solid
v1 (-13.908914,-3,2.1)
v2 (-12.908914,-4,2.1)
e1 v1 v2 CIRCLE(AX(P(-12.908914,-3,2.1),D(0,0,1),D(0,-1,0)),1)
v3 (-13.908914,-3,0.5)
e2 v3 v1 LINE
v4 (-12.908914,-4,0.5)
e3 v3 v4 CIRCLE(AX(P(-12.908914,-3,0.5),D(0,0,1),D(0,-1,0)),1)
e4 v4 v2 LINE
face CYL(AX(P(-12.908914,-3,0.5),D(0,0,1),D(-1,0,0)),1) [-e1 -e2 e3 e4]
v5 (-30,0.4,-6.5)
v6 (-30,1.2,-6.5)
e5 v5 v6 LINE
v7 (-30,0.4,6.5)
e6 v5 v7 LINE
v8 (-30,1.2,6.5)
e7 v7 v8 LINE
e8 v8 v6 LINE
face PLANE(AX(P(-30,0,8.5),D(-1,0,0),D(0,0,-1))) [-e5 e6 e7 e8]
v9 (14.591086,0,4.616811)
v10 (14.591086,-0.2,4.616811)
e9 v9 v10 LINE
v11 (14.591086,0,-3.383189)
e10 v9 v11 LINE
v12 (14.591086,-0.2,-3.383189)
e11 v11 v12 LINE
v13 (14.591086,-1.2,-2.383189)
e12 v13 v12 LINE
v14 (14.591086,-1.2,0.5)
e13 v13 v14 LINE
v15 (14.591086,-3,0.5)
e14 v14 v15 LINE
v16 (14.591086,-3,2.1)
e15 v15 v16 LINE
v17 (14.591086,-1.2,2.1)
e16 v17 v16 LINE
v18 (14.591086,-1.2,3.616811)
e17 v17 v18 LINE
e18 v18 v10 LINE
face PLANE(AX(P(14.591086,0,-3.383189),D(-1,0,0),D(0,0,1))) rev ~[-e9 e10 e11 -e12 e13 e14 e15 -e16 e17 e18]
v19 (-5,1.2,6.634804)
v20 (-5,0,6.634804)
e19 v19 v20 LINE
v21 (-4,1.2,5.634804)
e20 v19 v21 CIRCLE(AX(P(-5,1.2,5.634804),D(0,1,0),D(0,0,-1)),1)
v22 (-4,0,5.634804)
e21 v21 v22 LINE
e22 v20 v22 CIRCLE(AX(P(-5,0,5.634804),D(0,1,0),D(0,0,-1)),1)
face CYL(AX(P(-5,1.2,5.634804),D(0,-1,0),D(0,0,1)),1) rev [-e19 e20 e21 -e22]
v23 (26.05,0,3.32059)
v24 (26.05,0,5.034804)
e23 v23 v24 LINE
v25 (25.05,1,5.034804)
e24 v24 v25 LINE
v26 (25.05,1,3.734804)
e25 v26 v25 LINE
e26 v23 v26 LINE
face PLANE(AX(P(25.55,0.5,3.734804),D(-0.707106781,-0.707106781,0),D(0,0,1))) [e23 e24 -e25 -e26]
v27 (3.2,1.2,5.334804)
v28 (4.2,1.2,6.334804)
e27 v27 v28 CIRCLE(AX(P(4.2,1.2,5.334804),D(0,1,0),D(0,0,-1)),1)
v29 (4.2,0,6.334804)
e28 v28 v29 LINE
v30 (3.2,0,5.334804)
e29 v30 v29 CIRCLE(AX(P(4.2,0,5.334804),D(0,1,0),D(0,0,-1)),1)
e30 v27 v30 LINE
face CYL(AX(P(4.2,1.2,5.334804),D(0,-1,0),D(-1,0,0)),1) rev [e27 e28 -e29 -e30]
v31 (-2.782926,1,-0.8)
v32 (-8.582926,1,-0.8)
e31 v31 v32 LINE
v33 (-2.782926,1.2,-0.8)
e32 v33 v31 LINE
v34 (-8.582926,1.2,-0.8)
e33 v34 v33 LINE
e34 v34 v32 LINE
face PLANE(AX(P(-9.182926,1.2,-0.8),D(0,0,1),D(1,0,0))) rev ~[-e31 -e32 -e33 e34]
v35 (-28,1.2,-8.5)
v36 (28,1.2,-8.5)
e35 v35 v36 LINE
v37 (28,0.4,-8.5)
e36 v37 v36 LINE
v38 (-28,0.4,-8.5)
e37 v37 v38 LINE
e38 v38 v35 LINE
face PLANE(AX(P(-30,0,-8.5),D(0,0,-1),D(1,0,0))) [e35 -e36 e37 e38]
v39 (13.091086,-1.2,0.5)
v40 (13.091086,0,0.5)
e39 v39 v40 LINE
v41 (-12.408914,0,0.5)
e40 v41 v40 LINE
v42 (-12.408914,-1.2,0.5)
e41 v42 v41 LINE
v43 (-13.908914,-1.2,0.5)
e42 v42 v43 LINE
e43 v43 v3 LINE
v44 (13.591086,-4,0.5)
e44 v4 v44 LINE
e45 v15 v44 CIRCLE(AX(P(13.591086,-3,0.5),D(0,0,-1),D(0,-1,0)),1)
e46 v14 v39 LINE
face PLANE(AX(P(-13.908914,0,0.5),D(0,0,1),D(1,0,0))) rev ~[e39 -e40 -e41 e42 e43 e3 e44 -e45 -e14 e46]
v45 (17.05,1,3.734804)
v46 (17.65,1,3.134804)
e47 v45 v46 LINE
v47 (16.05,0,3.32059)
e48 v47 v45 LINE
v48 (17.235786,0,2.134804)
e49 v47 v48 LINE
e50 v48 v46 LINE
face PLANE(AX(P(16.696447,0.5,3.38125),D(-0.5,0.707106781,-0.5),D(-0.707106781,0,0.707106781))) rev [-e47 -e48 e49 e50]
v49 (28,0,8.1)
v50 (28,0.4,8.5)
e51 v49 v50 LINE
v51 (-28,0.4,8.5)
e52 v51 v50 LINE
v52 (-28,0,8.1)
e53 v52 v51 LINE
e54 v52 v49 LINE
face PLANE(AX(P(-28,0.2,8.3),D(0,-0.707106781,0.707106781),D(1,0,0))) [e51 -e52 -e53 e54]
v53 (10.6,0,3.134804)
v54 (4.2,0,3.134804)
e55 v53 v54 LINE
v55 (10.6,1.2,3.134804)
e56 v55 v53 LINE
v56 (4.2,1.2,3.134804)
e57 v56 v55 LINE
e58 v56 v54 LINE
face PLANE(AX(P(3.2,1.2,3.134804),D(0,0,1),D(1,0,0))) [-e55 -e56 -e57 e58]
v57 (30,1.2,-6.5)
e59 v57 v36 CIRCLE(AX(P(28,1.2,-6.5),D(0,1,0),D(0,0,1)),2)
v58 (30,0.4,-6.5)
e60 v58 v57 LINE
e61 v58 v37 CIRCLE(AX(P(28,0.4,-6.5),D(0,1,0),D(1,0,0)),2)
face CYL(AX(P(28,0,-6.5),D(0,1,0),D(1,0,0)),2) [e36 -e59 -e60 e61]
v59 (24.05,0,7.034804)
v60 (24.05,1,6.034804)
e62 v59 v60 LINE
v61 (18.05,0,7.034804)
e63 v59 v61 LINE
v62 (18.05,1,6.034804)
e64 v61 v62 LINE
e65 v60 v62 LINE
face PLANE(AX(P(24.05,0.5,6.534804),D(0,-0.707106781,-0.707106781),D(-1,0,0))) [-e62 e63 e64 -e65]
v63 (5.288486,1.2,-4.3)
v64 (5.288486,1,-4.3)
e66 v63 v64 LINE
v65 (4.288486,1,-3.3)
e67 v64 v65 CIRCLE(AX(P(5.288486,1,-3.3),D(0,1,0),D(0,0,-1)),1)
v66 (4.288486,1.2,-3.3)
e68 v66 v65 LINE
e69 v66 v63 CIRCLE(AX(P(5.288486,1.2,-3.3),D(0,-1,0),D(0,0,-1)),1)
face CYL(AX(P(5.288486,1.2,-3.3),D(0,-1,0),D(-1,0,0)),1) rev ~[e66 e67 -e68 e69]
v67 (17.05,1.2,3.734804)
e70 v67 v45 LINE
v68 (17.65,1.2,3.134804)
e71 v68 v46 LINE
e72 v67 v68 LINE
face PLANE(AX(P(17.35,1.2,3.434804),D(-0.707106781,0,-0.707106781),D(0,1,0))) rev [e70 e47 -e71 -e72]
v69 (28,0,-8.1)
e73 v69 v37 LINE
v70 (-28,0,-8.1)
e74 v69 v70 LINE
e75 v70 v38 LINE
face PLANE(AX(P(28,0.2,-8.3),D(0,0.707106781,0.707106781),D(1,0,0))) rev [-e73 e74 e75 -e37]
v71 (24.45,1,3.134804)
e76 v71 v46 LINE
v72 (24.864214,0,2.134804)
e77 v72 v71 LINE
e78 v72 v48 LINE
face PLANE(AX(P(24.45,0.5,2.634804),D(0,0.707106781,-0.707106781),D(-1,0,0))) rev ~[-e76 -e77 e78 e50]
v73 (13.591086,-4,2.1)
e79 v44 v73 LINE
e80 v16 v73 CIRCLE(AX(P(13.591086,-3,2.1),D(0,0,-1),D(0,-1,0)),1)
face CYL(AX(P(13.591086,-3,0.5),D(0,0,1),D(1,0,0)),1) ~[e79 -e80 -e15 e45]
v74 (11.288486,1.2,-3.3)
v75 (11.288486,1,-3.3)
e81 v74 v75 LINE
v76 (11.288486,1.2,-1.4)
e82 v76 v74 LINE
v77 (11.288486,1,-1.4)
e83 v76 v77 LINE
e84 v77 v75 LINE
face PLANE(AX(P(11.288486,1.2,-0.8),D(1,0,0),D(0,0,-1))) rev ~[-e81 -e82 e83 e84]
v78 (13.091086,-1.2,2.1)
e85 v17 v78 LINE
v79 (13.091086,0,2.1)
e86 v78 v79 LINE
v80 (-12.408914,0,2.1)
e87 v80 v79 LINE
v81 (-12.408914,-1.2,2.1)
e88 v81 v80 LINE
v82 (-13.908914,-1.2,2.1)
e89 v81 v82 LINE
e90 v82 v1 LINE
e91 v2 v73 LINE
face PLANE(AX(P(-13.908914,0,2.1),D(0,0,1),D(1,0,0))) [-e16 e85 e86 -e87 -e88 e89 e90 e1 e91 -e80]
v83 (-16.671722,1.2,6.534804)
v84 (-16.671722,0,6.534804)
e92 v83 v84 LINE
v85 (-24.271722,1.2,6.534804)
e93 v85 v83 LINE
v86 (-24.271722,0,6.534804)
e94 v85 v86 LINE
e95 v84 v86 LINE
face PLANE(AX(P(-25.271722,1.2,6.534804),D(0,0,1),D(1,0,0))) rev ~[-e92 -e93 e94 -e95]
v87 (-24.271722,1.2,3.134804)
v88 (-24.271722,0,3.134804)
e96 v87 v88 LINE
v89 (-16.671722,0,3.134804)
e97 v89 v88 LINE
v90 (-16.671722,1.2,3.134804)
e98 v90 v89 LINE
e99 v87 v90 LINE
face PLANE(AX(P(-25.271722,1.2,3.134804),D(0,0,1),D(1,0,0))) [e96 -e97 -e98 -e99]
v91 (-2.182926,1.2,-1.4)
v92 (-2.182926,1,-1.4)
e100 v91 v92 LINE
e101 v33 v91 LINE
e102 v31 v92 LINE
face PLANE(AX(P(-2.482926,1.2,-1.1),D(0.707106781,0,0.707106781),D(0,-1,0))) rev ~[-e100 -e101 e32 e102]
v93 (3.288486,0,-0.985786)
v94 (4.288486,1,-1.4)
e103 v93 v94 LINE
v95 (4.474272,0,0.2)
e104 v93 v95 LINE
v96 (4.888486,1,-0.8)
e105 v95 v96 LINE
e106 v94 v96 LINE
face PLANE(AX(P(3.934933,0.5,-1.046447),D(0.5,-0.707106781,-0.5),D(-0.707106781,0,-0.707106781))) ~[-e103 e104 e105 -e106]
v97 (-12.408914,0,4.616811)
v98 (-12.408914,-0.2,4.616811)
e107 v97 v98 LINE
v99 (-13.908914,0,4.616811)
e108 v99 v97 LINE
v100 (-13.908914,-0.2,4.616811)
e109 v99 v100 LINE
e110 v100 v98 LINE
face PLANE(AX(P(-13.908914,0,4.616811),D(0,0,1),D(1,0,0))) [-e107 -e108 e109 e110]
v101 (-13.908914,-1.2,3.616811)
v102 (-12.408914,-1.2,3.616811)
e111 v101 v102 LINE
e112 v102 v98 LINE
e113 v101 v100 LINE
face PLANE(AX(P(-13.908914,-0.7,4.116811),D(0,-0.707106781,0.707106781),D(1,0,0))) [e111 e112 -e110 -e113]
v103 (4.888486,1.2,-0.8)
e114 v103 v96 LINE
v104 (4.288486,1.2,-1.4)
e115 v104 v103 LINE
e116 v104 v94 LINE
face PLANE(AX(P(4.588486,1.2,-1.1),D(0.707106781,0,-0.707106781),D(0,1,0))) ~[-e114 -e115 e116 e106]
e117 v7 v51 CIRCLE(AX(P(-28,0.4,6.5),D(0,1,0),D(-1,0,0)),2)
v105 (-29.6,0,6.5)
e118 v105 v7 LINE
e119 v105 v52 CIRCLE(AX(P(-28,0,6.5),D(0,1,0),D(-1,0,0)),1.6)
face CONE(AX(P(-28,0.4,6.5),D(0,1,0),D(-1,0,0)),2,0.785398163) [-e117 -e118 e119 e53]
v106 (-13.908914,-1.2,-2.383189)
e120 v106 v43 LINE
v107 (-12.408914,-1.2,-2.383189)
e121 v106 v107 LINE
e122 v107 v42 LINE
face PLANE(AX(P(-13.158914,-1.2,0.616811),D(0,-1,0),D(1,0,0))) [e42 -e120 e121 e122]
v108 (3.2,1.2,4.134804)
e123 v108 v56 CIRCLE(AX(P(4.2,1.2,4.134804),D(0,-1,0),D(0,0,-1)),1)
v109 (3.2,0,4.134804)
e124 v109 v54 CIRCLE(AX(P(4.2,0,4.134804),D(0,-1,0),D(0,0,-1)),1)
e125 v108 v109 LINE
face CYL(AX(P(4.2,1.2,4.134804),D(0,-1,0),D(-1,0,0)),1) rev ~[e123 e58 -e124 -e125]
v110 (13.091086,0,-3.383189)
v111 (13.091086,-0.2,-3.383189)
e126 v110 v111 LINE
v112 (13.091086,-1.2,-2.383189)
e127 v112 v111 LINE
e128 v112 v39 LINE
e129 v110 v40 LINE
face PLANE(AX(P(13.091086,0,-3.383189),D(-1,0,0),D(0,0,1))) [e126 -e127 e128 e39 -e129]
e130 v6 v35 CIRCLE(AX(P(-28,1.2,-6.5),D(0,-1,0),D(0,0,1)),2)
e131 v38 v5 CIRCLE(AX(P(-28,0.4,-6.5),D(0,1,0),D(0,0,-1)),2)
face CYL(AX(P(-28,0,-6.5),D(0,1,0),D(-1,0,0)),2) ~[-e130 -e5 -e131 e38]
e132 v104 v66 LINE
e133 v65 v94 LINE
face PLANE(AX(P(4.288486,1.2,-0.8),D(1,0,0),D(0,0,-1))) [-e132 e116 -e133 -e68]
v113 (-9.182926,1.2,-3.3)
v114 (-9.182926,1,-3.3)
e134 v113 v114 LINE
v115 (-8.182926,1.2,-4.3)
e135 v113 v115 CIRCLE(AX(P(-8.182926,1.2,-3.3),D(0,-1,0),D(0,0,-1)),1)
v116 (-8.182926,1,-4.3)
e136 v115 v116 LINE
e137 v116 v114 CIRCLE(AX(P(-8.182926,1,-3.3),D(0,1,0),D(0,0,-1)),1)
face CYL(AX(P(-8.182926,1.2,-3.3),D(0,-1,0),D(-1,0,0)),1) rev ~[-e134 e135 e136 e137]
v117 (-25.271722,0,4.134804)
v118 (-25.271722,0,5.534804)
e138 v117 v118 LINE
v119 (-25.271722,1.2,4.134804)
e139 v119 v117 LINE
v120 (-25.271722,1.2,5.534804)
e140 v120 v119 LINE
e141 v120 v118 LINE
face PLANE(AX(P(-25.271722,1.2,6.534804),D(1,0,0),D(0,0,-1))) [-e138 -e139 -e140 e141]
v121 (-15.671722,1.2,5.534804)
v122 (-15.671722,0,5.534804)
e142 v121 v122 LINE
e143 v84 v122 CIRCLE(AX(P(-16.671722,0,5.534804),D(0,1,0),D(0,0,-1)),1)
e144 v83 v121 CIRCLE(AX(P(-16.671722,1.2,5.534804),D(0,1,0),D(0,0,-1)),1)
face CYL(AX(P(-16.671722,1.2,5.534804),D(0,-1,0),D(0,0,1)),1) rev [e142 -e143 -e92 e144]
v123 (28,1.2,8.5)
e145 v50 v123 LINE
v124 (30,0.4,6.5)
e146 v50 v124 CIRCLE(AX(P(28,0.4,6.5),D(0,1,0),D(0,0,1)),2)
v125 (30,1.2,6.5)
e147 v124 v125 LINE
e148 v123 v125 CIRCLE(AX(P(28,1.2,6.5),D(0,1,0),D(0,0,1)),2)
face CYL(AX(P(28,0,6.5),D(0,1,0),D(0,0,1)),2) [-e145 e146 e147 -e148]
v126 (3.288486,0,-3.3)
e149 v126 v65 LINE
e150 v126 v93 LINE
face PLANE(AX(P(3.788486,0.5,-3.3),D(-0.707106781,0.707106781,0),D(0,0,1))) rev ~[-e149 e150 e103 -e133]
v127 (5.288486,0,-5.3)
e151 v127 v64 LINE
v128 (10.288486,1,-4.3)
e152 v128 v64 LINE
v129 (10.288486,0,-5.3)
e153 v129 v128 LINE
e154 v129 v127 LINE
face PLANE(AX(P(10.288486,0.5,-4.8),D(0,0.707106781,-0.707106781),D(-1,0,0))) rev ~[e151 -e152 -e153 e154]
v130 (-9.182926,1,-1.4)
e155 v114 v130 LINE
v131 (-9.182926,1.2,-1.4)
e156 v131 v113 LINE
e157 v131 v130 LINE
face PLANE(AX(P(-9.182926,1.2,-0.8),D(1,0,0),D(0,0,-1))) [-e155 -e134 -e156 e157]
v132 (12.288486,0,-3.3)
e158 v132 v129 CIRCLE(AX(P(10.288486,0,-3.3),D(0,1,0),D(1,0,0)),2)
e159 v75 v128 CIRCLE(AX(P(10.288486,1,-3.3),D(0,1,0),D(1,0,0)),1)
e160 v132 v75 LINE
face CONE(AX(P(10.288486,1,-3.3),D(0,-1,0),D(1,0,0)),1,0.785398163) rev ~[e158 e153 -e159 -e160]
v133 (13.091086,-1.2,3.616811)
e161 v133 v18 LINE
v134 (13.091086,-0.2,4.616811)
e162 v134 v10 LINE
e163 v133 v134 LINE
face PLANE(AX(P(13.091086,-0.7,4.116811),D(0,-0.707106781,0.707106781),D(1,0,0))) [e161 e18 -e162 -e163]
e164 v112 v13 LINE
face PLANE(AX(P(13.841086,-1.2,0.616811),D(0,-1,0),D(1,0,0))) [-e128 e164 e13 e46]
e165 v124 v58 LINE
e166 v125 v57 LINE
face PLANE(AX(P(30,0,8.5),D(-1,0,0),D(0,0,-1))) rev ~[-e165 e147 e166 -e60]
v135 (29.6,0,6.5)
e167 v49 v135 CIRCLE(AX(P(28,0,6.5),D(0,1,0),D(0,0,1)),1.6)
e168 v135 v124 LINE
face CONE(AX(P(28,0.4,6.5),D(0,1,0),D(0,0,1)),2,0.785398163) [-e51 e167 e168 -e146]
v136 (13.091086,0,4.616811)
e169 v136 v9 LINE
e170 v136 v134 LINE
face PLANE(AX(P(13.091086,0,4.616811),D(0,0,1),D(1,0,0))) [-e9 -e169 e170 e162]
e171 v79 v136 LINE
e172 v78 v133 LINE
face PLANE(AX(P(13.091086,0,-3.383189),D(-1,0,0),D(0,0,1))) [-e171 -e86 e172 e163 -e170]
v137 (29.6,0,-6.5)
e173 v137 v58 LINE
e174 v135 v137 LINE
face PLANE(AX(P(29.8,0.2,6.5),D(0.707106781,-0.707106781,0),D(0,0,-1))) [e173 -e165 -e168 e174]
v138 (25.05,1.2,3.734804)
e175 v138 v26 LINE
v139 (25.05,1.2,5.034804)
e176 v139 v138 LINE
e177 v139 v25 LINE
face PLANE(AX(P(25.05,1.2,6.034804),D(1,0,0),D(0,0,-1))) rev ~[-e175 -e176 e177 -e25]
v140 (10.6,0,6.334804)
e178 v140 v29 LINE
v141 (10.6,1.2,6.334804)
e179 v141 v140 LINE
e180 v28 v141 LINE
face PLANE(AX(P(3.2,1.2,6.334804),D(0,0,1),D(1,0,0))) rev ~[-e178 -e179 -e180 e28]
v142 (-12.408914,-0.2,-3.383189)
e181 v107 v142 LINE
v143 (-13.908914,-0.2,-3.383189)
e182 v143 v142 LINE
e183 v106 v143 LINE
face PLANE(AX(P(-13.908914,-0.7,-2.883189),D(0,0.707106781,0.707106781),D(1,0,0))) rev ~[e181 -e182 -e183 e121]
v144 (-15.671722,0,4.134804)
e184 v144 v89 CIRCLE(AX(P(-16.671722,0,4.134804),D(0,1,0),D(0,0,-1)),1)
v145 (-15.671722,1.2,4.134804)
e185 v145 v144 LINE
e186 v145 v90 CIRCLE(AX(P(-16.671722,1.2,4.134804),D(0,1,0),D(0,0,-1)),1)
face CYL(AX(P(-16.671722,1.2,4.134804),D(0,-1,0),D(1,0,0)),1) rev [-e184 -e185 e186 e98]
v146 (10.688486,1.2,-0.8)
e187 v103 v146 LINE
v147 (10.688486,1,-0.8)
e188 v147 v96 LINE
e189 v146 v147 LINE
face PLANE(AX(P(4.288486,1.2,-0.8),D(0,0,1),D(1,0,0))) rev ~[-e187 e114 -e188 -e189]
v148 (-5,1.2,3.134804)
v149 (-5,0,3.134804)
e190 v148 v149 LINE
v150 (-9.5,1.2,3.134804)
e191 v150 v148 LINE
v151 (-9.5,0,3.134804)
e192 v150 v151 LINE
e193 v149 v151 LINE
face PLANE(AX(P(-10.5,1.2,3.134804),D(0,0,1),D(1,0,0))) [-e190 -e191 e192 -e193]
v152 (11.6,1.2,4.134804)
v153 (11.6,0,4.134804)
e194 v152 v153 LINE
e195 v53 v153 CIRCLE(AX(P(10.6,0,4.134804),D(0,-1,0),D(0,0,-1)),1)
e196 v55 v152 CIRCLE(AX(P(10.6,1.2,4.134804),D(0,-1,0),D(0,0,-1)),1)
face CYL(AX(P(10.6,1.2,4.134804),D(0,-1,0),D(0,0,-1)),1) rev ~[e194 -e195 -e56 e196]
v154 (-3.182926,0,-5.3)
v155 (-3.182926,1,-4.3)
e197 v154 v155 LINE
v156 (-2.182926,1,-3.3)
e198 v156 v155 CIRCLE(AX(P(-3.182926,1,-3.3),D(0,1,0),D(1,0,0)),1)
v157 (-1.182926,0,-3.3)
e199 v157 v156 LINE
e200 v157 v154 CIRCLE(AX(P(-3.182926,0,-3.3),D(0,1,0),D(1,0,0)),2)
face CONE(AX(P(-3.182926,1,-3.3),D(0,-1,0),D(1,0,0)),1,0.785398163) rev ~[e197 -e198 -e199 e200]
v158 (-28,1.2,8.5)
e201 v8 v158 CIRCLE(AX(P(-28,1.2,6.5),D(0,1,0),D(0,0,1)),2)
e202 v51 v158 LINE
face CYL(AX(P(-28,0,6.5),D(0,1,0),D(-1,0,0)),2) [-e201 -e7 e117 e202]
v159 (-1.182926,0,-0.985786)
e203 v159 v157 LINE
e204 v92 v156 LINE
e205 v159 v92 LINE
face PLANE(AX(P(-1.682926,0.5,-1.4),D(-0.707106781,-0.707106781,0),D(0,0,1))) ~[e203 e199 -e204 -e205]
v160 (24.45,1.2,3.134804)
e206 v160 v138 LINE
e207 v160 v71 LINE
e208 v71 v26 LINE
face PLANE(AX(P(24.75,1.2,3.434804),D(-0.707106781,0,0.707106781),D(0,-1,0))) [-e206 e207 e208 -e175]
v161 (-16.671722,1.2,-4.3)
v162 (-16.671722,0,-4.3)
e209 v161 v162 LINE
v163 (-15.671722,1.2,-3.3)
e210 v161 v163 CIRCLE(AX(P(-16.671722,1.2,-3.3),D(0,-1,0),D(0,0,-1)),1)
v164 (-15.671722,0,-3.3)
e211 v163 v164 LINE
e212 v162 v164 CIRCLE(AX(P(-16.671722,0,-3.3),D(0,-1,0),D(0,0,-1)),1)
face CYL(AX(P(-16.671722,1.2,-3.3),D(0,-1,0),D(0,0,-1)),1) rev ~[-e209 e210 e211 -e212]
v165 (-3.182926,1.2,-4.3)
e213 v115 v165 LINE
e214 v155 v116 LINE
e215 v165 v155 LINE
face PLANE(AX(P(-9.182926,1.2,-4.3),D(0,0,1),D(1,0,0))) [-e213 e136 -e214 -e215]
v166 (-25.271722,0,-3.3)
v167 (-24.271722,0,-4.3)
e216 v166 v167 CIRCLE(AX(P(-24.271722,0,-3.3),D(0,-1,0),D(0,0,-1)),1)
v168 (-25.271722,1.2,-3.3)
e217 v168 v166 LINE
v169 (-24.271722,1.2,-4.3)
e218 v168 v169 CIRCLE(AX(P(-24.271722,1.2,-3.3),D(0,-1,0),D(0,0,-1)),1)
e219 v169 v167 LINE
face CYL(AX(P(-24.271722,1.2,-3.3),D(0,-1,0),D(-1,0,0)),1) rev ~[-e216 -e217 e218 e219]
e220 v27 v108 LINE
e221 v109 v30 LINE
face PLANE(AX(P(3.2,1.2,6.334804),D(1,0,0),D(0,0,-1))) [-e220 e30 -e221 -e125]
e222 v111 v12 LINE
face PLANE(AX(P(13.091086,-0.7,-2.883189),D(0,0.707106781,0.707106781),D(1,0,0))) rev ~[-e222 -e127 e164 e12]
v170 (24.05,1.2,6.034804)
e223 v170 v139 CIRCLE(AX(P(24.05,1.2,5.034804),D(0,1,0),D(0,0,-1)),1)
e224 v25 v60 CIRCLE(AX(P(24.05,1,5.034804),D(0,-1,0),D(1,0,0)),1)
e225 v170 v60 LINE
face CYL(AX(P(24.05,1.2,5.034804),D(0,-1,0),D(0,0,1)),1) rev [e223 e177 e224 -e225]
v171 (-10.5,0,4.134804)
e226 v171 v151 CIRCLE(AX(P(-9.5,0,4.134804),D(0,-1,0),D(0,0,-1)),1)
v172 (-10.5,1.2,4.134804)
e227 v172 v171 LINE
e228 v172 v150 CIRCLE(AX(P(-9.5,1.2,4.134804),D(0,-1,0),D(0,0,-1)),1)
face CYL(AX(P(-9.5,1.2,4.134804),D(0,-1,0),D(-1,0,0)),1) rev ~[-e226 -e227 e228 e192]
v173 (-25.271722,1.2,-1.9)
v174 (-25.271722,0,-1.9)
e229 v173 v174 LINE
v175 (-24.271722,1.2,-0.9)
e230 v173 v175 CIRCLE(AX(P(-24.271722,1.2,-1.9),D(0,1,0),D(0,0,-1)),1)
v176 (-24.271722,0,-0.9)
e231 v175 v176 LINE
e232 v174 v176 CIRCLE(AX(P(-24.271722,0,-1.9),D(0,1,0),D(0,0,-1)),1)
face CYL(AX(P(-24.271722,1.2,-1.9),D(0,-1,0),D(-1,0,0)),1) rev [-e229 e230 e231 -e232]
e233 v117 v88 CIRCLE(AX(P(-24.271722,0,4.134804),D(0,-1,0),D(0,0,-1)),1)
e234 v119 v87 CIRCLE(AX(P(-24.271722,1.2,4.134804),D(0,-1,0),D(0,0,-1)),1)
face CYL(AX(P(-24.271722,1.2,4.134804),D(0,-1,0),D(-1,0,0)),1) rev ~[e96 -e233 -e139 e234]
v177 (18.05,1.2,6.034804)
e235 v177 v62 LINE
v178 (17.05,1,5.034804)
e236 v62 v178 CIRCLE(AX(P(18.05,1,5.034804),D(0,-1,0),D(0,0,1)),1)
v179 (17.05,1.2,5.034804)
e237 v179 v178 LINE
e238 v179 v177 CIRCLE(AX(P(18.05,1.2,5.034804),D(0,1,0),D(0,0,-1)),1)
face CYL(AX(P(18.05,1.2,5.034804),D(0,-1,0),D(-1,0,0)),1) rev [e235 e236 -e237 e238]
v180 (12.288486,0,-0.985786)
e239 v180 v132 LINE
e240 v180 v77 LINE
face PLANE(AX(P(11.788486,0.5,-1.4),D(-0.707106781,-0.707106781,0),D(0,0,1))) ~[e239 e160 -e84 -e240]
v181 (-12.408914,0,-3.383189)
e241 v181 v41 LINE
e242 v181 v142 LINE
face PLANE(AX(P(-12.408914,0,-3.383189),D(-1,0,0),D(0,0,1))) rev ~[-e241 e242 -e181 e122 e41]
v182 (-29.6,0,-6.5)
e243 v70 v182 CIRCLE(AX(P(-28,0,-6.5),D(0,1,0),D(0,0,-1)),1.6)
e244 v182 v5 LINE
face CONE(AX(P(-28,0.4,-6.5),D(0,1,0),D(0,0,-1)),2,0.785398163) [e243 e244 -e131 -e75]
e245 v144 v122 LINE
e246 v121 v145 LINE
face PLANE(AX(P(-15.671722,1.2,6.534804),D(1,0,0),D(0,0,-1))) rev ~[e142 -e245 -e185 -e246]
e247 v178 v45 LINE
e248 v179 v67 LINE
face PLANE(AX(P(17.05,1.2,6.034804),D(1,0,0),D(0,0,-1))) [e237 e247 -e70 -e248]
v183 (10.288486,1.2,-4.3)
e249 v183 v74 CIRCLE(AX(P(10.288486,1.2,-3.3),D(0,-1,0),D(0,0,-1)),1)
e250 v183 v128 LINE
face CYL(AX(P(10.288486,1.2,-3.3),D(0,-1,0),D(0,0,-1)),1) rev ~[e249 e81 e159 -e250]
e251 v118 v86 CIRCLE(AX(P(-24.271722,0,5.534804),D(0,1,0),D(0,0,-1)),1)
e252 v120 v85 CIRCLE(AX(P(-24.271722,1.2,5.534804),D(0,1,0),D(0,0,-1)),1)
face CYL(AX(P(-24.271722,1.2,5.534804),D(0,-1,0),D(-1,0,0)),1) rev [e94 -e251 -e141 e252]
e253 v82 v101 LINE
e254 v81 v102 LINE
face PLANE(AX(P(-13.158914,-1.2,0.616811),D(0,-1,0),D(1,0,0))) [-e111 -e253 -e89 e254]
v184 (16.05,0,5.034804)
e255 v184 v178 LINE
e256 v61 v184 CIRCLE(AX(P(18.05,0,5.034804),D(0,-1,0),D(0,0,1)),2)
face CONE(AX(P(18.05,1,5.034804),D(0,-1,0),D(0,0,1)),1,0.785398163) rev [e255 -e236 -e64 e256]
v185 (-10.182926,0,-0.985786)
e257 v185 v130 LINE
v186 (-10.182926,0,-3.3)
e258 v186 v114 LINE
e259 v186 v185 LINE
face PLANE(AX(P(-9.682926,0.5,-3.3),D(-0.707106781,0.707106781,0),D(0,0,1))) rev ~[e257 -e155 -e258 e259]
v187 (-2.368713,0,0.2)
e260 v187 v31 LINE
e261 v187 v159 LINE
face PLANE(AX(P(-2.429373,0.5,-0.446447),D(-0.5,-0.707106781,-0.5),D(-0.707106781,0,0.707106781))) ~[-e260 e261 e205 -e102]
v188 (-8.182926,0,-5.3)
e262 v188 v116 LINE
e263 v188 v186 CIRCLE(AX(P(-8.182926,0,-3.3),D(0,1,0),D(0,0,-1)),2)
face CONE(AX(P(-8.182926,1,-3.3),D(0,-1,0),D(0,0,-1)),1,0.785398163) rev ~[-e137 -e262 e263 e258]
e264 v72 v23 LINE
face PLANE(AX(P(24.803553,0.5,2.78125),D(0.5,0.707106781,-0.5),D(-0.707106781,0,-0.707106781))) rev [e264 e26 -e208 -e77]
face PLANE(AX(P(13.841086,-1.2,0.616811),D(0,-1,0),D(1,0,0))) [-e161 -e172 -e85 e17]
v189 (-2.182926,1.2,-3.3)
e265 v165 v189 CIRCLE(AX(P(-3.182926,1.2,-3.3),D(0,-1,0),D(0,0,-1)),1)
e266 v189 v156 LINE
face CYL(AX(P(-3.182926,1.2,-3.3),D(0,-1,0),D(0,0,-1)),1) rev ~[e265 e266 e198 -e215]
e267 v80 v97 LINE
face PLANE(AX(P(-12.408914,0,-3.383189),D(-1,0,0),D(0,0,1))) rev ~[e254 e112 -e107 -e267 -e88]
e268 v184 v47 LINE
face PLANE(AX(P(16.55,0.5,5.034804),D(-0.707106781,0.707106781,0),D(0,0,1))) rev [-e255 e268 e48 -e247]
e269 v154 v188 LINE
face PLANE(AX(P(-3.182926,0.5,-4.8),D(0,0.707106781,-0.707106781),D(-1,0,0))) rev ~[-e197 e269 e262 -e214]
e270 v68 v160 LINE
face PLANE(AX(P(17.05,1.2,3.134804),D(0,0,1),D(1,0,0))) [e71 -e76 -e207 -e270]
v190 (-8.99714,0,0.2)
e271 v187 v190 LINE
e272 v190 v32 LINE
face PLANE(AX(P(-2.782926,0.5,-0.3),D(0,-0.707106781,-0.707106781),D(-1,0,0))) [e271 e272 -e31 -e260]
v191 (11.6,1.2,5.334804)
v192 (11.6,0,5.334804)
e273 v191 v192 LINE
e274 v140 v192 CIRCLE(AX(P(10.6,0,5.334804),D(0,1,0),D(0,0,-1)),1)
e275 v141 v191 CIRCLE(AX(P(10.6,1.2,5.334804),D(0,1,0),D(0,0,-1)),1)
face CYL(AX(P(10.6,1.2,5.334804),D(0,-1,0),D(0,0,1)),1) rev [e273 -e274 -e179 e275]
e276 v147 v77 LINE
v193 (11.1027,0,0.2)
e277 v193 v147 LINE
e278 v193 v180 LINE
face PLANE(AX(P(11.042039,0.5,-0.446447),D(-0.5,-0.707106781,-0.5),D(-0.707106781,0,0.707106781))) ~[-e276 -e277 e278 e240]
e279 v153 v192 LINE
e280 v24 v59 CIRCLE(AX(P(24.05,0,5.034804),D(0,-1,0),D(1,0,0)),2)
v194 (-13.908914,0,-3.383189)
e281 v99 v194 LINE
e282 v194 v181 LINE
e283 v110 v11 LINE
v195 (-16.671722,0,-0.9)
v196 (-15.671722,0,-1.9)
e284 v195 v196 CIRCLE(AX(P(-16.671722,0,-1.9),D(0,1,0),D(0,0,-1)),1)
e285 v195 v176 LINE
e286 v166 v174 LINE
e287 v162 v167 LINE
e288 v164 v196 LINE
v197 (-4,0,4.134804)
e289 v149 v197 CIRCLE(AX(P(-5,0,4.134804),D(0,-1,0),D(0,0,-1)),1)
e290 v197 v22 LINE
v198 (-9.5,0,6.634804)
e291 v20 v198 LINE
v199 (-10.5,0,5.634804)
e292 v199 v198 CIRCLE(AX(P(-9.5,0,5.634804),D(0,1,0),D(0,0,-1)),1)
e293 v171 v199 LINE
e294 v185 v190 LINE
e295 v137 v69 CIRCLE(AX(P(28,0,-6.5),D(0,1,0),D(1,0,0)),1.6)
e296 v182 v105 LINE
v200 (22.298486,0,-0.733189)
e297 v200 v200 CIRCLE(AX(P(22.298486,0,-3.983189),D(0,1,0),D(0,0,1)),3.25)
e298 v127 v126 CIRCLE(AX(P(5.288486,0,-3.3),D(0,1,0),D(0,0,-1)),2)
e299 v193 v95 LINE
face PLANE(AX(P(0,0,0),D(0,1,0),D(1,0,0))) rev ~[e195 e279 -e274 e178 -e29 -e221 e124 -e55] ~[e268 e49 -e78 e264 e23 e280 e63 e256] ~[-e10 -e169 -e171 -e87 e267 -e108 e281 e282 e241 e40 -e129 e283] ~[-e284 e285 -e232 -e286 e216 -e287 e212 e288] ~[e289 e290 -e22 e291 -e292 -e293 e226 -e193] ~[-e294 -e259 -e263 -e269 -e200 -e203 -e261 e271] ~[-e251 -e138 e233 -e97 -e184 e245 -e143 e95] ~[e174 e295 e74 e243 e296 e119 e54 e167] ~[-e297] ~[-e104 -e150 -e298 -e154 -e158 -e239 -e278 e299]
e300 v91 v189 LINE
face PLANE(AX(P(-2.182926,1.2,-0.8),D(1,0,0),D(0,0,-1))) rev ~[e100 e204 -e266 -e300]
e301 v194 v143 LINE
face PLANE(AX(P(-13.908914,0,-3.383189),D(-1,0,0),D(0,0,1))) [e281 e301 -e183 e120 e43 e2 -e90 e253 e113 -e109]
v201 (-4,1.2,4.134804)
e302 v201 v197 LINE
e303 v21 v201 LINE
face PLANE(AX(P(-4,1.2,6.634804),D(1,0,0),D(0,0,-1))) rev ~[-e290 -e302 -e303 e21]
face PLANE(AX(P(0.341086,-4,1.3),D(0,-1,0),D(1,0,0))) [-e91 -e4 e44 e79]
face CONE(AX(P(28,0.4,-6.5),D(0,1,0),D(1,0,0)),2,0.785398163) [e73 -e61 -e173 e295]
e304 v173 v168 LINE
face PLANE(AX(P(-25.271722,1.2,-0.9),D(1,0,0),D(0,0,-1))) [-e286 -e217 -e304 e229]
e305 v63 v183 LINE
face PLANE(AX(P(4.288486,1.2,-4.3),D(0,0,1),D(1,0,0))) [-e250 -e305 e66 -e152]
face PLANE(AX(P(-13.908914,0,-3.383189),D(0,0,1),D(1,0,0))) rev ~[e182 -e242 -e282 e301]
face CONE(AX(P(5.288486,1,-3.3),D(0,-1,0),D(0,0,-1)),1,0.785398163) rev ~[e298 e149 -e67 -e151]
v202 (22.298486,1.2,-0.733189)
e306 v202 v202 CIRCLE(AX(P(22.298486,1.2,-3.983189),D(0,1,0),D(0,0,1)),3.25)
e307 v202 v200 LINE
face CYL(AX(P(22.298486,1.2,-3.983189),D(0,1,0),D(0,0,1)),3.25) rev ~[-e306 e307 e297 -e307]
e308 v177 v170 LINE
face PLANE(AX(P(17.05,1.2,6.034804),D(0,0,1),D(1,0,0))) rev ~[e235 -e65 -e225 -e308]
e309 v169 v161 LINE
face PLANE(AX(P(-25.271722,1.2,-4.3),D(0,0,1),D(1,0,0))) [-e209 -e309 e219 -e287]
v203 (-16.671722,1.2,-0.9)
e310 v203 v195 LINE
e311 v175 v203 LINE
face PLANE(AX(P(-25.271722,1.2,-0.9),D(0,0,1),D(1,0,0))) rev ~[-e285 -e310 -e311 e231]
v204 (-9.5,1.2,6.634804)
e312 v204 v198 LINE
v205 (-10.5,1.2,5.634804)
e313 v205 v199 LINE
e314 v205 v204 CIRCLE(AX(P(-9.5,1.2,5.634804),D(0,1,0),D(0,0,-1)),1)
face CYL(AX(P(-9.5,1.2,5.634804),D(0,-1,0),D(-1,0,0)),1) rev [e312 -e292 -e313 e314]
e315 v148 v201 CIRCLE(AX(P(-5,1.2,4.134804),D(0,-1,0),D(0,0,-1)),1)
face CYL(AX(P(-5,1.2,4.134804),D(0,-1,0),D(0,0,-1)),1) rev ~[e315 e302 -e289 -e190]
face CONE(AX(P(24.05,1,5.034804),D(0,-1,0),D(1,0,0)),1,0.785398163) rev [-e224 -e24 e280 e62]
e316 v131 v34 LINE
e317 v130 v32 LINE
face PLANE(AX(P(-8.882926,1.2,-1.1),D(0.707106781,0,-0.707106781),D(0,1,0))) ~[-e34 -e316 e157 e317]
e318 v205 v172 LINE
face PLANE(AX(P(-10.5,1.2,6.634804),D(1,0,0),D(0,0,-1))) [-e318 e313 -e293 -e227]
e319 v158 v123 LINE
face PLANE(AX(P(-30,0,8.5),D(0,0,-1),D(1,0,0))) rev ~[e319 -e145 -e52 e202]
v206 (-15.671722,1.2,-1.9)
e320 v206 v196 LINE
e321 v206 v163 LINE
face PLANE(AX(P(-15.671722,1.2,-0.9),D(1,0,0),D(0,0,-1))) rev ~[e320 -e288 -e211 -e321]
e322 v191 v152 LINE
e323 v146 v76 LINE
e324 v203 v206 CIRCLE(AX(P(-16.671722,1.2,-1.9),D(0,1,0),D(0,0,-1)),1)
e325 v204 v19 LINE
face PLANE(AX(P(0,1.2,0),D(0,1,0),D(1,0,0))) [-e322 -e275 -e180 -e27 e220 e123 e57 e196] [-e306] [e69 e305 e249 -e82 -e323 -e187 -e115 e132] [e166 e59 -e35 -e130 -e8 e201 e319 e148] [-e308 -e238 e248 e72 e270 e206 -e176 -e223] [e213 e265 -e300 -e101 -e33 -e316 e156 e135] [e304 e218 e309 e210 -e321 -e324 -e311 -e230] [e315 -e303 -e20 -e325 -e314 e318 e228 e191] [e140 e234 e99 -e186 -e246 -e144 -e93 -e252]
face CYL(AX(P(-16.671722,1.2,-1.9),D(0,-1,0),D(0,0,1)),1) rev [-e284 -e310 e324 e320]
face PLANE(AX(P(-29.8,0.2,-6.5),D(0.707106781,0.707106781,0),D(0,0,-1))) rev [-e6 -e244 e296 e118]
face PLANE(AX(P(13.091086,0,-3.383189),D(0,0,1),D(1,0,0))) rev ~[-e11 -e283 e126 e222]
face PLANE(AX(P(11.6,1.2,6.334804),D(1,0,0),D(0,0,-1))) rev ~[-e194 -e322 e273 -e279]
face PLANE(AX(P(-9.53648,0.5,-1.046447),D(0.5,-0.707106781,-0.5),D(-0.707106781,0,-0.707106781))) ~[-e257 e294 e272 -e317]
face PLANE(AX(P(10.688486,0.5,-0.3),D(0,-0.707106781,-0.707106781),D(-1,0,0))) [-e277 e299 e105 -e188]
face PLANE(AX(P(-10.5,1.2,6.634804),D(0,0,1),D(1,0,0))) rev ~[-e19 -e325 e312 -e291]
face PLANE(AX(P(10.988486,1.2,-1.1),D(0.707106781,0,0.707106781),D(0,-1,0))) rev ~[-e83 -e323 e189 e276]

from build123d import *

# Parameters (mm, degrees)
SKETCH_1_W          = 60
SKETCH_1_H          = 17
EXTRUDE_1_DEPTH     = 1.2
CUT_EXTRUDE_1_REACH = 33.204
SKETCH_4_R          = 3.25
SKETCH_4_W          = 9.6
SKETCH_4_H          = 3.4
SKETCH_4_W_2        = 7
SKETCH_4_H_2        = 3.5
SKETCH_4_W_3        = 8
SKETCH_4_H_3        = 2.9
SKETCH_4_W_4        = 8.4
SKETCH_4_H_4        = 3.2
SKETCH_4_W_5        = 6.5
FILLET_2_R          = 1
CHAMFER_1_SIZE      = 0.6
SKETCH_5_W          = 1.5
SKETCH_5_H          = 8
EXTRUDE_2_DEPTH     = 1.2
SKETCH_6_W          = 28.5
SKETCH_6_H          = 1.6
EXTRUDE_3_DEPTH     = 4
FILLET_3_R          = 1
CHAMFER_2_SIZE      = 1
CHAMFER_4_SIZE      = 1
FILLET_4_R          = 2
CHAMFER_5_SIZE      = 0.4


with BuildPart() as part:
    # 草图1 → 凸台-拉伸1 (new body)
    with BuildSketch(Plane(origin=(0, 0, 0), x_dir=(1, 0, 0), z_dir=(0, 1, 0))):
        Rectangle(SKETCH_1_W, SKETCH_1_H)
    extrude(amount=EXTRUDE_1_DEPTH)

    # 草图4 → 切除-拉伸1 (cut, up to next)
    with BuildSketch(Plane(origin=(0, 1.2, 0), x_dir=(1, 0, 0), z_dir=(0, 1, 0)), mode=Mode.PRIVATE) as cut_extrude_1_sk1:
        with Locations(Location((22.298485985, 3.98318929, 0), (0, 0, 270))):
            Circle(SKETCH_4_R)
    cut_extrude_1_tool1 = extrude(cut_extrude_1_sk1.sketch, amount=-CUT_EXTRUDE_1_REACH, mode=Mode.PRIVATE) & part.part
    # 草图4 → 切除-拉伸1 (cut, up to next)
    with BuildSketch(Plane(origin=(0, 1.2, 0), x_dir=(1, 0, 0), z_dir=(0, 1, 0)), mode=Mode.PRIVATE) as cut_extrude_1_sk2:
        with Locations((-20.471722325, 2.6)):
            Rectangle(SKETCH_4_W, SKETCH_4_H)
    cut_extrude_1_tool2 = extrude(cut_extrude_1_sk2.sketch, amount=-CUT_EXTRUDE_1_REACH, mode=Mode.PRIVATE) & part.part
    # 草图4 → 切除-拉伸1 (cut, up to next)
    with BuildSketch(Plane(origin=(0, 1.2, 0), x_dir=(1, 0, 0), z_dir=(0, 1, 0)), mode=Mode.PRIVATE) as cut_extrude_1_sk3:
        with Locations((-5.682926277, 2.55)):
            Rectangle(SKETCH_4_W_2, SKETCH_4_H_2)
    cut_extrude_1_tool3 = extrude(cut_extrude_1_sk3.sketch, amount=-CUT_EXTRUDE_1_REACH, mode=Mode.PRIVATE) & part.part
    # 草图4 → 切除-拉伸1 (cut, up to next)
    with BuildSketch(Plane(origin=(0, 1.2, 0), x_dir=(1, 0, 0), z_dir=(0, 1, 0)), mode=Mode.PRIVATE) as cut_extrude_1_sk4:
        with Locations((7.788485985, 2.55)):
            Rectangle(SKETCH_4_W_2, SKETCH_4_H_2)
    cut_extrude_1_tool4 = extrude(cut_extrude_1_sk4.sketch, amount=-CUT_EXTRUDE_1_REACH, mode=Mode.PRIVATE) & part.part
    # 草图4 → 切除-拉伸1 (cut, up to next)
    with BuildSketch(Plane(origin=(0, 1.2, 0), x_dir=(1, 0, 0), z_dir=(0, 1, 0)), mode=Mode.PRIVATE) as cut_extrude_1_sk5:
        with Locations((21.05, -4.584803861)):
            Rectangle(SKETCH_4_W_3, SKETCH_4_H_3)
    cut_extrude_1_tool5 = extrude(cut_extrude_1_sk5.sketch, amount=-CUT_EXTRUDE_1_REACH, mode=Mode.PRIVATE) & part.part
    # 草图4 → 切除-拉伸1 (cut, up to next)
    with BuildSketch(Plane(origin=(0, 1.2, 0), x_dir=(1, 0, 0), z_dir=(0, 1, 0)), mode=Mode.PRIVATE) as cut_extrude_1_sk6:
        with Locations((7.4, -4.734803861)):
            Rectangle(SKETCH_4_W_4, SKETCH_4_H_4)
    cut_extrude_1_tool6 = extrude(cut_extrude_1_sk6.sketch, amount=-CUT_EXTRUDE_1_REACH, mode=Mode.PRIVATE) & part.part
    # 草图4 → 切除-拉伸1 (cut, up to next)
    with BuildSketch(Plane(origin=(0, 1.2, 0), x_dir=(1, 0, 0), z_dir=(0, 1, 0)), mode=Mode.PRIVATE) as cut_extrude_1_sk7:
        with Locations((-7.25, -4.884803861)):
            Rectangle(SKETCH_4_W_5, SKETCH_4_H_2)
    cut_extrude_1_tool7 = extrude(cut_extrude_1_sk7.sketch, amount=-CUT_EXTRUDE_1_REACH, mode=Mode.PRIVATE) & part.part
    # 草图4 → 切除-拉伸1 (cut, up to next)
    with BuildSketch(Plane(origin=(0, 1.2, 0), x_dir=(1, 0, 0), z_dir=(0, 1, 0)), mode=Mode.PRIVATE) as cut_extrude_1_sk8:
        with Locations((-20.471722325, -4.834803861)):
            Rectangle(SKETCH_4_W, SKETCH_4_H)
    cut_extrude_1_tool8 = extrude(cut_extrude_1_sk8.sketch, amount=-CUT_EXTRUDE_1_REACH, mode=Mode.PRIVATE) & part.part
    add(cut_extrude_1_tool1.solids().sort_by_distance((22.298486, 1.2, -3.983189))[0], mode=Mode.SUBTRACT)
    add(cut_extrude_1_tool2.solids().sort_by_distance((-20.471722, 1.2, -2.6))[0], mode=Mode.SUBTRACT)
    add(cut_extrude_1_tool3.solids().sort_by_distance((-5.682926, 1.2, -2.55))[0], mode=Mode.SUBTRACT)
    add(cut_extrude_1_tool4.solids().sort_by_distance((7.788486, 1.2, -2.55))[0], mode=Mode.SUBTRACT)
    add(cut_extrude_1_tool5.solids().sort_by_distance((21.05, 1.2, 4.584804))[0], mode=Mode.SUBTRACT)
    add(cut_extrude_1_tool6.solids().sort_by_distance((7.4, 1.2, 4.734804))[0], mode=Mode.SUBTRACT)
    add(cut_extrude_1_tool7.solids().sort_by_distance((-7.25, 1.2, 4.884804))[0], mode=Mode.SUBTRACT)
    add(cut_extrude_1_tool8.solids().sort_by_distance((-20.471722, 1.2, 4.834804))[0], mode=Mode.SUBTRACT)

    # 圆角2
    fillet_2_edges = [part.edges().sort_by_distance(p)[0] for p in [
        (-9.182926277, 0.6, -4.3),
        (-2.182926277, 0.6, -4.3),
        (4.288485985, 0.6, -4.3),
        (11.288485985, 0.6, -4.3),
        (17.05, 0.6, 6.034803861),
        (25.05, 0.6, 6.034803861),
        (3.2, 0.6, 6.334803861),
        (3.2, 0.6, 3.134803861),
        (11.6, 0.6, 3.134803861),
        (11.6, 0.6, 6.334803861),
        (-10.5, 0.6, 6.634803861),
        (-10.5, 0.6, 3.134803861),
        (-4, 0.6, 3.134803861),
        (-4, 0.6, 6.634803861),
        (-25.271722325, 0.6, 6.534803861),
        (-25.271722325, 0.6, 3.134803861),
        (-15.671722325, 0.6, 3.134803861),
        (-15.671722325, 0.6, 6.534803861),
        (-25.271722325, 0.6, -0.9),
        (-25.271722325, 0.6, -4.3),
        (-15.671722325, 0.6, -4.3),
        (-15.671722325, 0.6, -0.9),
    ]]
    fillet(fillet_2_edges, radius=FILLET_2_R)

    # 倒角1
    chamfer_1_edges = [part.edges().sort_by_distance(p)[0] for p in [
        (-9.182926277, 0.6, -0.8),
        (-2.182926277, 0.6, -0.8),
        (4.288485985, 0.6, -0.8),
        (11.288485985, 0.6, -0.8),
        (17.05, 0.6, 3.134803861),
        (25.05, 0.6, 3.134803861),
    ]]
    chamfer(chamfer_1_edges, length=CHAMFER_1_SIZE)

    # 草图5 → 凸台-拉伸2 (add)
    with BuildSketch(Plane.XZ):
        with Locations((-13.15891381, 0.61681071)):
            Rectangle(SKETCH_5_W, SKETCH_5_H)
        with Locations((13.84108619, 0.61681071)):
            Rectangle(SKETCH_5_W, SKETCH_5_H)
    extrude(amount=EXTRUDE_2_DEPTH)

    # 草图6 → 凸台-拉伸3 (add)
    with BuildSketch(Plane.XZ):
        with Locations((0.34108619, 1.3)):
            Rectangle(SKETCH_6_W, SKETCH_6_H)
    extrude(amount=EXTRUDE_3_DEPTH)

    # 圆角3
    fillet_3_edges = [part.edges().sort_by_distance(p)[0] for p in [
        (-13.90891381, -4, 1.3),
        (14.59108619, -4, 1.3),
    ]]
    fillet(fillet_3_edges, radius=FILLET_3_R)

    # 倒角2
    chamfer_2_edges = [part.edges().sort_by_distance(p)[0] for p in [
        (-13.15891381, -1.2, -3.38318929),
        (-13.15891381, -1.2, 4.61681071),
        (13.84108619, -1.2, -3.38318929),
        (13.84108619, -1.2, 4.61681071),
    ]]
    chamfer(chamfer_2_edges, length=CHAMFER_2_SIZE)

    # 倒角4
    chamfer_4_edges = [part.edges().sort_by_distance(p)[0] for p in [
        (-5.682926277, 0, -4.3),
        (-2.182926277, 0, -2.35),
        (7.788485985, 0, -4.3),
        (11.288485985, 0, -2.35),
        (21.05, 0, 6.034803861),
        (17.05, 0, 4.384803861),
        (-2.475819496, 0, -4.007106781),
        (-8.890033058, 0, -4.007106781),
        (4.581379204, 0, -4.007106781),
        (10.995592766, 0, -4.007106781),
        (24.757106781, 0, 5.741910642),
        (17.342893219, 0, 5.741910642),
        (-5.682926277, 0, -0.8),
        (-9.182926277, 0, -2.35),
        (7.788485985, 0, -0.8),
        (4.288485985, 0, -2.35),
        (21.05, 0, 3.134803861),
        (25.05, 0, 4.384803861),
        (-8.882926277, 0, -1.1),
        (-2.482926277, 0, -1.1),
        (4.588485985, 0, -1.1),
        (10.988485985, 0, -1.1),
        (17.35, 0, 3.434803861),
        (24.75, 0, 3.434803861),
    ]]
    chamfer(chamfer_4_edges, length=CHAMFER_4_SIZE)

    # 圆角4
    fillet_4_edges = [part.edges().sort_by_distance(p)[0] for p in [
        (30, 0.6, 8.5),
        (-30, 0.6, 8.5),
        (-30, 0.6, -8.5),
        (30, 0.6, -8.5),
    ]]
    fillet(fillet_4_edges, radius=FILLET_4_R)

    # 倒角5
    chamfer_5_edges = [part.edges().sort_by_distance(p)[0] for p in [
        (30, 0, 0),
        (0, 0, 8.5),
        (-30, 0, 0),
        (0, 0, -8.5),
        (-29.414213562, 0, -7.914213562),
        (-29.414213562, 0, 7.914213562),
        (29.414213562, 0, -7.914213562),
        (29.414213562, 0, 7.914213562),
    ]]
    chamfer(chamfer_5_edges, length=CHAMFER_5_SIZE)


solid = part.part
